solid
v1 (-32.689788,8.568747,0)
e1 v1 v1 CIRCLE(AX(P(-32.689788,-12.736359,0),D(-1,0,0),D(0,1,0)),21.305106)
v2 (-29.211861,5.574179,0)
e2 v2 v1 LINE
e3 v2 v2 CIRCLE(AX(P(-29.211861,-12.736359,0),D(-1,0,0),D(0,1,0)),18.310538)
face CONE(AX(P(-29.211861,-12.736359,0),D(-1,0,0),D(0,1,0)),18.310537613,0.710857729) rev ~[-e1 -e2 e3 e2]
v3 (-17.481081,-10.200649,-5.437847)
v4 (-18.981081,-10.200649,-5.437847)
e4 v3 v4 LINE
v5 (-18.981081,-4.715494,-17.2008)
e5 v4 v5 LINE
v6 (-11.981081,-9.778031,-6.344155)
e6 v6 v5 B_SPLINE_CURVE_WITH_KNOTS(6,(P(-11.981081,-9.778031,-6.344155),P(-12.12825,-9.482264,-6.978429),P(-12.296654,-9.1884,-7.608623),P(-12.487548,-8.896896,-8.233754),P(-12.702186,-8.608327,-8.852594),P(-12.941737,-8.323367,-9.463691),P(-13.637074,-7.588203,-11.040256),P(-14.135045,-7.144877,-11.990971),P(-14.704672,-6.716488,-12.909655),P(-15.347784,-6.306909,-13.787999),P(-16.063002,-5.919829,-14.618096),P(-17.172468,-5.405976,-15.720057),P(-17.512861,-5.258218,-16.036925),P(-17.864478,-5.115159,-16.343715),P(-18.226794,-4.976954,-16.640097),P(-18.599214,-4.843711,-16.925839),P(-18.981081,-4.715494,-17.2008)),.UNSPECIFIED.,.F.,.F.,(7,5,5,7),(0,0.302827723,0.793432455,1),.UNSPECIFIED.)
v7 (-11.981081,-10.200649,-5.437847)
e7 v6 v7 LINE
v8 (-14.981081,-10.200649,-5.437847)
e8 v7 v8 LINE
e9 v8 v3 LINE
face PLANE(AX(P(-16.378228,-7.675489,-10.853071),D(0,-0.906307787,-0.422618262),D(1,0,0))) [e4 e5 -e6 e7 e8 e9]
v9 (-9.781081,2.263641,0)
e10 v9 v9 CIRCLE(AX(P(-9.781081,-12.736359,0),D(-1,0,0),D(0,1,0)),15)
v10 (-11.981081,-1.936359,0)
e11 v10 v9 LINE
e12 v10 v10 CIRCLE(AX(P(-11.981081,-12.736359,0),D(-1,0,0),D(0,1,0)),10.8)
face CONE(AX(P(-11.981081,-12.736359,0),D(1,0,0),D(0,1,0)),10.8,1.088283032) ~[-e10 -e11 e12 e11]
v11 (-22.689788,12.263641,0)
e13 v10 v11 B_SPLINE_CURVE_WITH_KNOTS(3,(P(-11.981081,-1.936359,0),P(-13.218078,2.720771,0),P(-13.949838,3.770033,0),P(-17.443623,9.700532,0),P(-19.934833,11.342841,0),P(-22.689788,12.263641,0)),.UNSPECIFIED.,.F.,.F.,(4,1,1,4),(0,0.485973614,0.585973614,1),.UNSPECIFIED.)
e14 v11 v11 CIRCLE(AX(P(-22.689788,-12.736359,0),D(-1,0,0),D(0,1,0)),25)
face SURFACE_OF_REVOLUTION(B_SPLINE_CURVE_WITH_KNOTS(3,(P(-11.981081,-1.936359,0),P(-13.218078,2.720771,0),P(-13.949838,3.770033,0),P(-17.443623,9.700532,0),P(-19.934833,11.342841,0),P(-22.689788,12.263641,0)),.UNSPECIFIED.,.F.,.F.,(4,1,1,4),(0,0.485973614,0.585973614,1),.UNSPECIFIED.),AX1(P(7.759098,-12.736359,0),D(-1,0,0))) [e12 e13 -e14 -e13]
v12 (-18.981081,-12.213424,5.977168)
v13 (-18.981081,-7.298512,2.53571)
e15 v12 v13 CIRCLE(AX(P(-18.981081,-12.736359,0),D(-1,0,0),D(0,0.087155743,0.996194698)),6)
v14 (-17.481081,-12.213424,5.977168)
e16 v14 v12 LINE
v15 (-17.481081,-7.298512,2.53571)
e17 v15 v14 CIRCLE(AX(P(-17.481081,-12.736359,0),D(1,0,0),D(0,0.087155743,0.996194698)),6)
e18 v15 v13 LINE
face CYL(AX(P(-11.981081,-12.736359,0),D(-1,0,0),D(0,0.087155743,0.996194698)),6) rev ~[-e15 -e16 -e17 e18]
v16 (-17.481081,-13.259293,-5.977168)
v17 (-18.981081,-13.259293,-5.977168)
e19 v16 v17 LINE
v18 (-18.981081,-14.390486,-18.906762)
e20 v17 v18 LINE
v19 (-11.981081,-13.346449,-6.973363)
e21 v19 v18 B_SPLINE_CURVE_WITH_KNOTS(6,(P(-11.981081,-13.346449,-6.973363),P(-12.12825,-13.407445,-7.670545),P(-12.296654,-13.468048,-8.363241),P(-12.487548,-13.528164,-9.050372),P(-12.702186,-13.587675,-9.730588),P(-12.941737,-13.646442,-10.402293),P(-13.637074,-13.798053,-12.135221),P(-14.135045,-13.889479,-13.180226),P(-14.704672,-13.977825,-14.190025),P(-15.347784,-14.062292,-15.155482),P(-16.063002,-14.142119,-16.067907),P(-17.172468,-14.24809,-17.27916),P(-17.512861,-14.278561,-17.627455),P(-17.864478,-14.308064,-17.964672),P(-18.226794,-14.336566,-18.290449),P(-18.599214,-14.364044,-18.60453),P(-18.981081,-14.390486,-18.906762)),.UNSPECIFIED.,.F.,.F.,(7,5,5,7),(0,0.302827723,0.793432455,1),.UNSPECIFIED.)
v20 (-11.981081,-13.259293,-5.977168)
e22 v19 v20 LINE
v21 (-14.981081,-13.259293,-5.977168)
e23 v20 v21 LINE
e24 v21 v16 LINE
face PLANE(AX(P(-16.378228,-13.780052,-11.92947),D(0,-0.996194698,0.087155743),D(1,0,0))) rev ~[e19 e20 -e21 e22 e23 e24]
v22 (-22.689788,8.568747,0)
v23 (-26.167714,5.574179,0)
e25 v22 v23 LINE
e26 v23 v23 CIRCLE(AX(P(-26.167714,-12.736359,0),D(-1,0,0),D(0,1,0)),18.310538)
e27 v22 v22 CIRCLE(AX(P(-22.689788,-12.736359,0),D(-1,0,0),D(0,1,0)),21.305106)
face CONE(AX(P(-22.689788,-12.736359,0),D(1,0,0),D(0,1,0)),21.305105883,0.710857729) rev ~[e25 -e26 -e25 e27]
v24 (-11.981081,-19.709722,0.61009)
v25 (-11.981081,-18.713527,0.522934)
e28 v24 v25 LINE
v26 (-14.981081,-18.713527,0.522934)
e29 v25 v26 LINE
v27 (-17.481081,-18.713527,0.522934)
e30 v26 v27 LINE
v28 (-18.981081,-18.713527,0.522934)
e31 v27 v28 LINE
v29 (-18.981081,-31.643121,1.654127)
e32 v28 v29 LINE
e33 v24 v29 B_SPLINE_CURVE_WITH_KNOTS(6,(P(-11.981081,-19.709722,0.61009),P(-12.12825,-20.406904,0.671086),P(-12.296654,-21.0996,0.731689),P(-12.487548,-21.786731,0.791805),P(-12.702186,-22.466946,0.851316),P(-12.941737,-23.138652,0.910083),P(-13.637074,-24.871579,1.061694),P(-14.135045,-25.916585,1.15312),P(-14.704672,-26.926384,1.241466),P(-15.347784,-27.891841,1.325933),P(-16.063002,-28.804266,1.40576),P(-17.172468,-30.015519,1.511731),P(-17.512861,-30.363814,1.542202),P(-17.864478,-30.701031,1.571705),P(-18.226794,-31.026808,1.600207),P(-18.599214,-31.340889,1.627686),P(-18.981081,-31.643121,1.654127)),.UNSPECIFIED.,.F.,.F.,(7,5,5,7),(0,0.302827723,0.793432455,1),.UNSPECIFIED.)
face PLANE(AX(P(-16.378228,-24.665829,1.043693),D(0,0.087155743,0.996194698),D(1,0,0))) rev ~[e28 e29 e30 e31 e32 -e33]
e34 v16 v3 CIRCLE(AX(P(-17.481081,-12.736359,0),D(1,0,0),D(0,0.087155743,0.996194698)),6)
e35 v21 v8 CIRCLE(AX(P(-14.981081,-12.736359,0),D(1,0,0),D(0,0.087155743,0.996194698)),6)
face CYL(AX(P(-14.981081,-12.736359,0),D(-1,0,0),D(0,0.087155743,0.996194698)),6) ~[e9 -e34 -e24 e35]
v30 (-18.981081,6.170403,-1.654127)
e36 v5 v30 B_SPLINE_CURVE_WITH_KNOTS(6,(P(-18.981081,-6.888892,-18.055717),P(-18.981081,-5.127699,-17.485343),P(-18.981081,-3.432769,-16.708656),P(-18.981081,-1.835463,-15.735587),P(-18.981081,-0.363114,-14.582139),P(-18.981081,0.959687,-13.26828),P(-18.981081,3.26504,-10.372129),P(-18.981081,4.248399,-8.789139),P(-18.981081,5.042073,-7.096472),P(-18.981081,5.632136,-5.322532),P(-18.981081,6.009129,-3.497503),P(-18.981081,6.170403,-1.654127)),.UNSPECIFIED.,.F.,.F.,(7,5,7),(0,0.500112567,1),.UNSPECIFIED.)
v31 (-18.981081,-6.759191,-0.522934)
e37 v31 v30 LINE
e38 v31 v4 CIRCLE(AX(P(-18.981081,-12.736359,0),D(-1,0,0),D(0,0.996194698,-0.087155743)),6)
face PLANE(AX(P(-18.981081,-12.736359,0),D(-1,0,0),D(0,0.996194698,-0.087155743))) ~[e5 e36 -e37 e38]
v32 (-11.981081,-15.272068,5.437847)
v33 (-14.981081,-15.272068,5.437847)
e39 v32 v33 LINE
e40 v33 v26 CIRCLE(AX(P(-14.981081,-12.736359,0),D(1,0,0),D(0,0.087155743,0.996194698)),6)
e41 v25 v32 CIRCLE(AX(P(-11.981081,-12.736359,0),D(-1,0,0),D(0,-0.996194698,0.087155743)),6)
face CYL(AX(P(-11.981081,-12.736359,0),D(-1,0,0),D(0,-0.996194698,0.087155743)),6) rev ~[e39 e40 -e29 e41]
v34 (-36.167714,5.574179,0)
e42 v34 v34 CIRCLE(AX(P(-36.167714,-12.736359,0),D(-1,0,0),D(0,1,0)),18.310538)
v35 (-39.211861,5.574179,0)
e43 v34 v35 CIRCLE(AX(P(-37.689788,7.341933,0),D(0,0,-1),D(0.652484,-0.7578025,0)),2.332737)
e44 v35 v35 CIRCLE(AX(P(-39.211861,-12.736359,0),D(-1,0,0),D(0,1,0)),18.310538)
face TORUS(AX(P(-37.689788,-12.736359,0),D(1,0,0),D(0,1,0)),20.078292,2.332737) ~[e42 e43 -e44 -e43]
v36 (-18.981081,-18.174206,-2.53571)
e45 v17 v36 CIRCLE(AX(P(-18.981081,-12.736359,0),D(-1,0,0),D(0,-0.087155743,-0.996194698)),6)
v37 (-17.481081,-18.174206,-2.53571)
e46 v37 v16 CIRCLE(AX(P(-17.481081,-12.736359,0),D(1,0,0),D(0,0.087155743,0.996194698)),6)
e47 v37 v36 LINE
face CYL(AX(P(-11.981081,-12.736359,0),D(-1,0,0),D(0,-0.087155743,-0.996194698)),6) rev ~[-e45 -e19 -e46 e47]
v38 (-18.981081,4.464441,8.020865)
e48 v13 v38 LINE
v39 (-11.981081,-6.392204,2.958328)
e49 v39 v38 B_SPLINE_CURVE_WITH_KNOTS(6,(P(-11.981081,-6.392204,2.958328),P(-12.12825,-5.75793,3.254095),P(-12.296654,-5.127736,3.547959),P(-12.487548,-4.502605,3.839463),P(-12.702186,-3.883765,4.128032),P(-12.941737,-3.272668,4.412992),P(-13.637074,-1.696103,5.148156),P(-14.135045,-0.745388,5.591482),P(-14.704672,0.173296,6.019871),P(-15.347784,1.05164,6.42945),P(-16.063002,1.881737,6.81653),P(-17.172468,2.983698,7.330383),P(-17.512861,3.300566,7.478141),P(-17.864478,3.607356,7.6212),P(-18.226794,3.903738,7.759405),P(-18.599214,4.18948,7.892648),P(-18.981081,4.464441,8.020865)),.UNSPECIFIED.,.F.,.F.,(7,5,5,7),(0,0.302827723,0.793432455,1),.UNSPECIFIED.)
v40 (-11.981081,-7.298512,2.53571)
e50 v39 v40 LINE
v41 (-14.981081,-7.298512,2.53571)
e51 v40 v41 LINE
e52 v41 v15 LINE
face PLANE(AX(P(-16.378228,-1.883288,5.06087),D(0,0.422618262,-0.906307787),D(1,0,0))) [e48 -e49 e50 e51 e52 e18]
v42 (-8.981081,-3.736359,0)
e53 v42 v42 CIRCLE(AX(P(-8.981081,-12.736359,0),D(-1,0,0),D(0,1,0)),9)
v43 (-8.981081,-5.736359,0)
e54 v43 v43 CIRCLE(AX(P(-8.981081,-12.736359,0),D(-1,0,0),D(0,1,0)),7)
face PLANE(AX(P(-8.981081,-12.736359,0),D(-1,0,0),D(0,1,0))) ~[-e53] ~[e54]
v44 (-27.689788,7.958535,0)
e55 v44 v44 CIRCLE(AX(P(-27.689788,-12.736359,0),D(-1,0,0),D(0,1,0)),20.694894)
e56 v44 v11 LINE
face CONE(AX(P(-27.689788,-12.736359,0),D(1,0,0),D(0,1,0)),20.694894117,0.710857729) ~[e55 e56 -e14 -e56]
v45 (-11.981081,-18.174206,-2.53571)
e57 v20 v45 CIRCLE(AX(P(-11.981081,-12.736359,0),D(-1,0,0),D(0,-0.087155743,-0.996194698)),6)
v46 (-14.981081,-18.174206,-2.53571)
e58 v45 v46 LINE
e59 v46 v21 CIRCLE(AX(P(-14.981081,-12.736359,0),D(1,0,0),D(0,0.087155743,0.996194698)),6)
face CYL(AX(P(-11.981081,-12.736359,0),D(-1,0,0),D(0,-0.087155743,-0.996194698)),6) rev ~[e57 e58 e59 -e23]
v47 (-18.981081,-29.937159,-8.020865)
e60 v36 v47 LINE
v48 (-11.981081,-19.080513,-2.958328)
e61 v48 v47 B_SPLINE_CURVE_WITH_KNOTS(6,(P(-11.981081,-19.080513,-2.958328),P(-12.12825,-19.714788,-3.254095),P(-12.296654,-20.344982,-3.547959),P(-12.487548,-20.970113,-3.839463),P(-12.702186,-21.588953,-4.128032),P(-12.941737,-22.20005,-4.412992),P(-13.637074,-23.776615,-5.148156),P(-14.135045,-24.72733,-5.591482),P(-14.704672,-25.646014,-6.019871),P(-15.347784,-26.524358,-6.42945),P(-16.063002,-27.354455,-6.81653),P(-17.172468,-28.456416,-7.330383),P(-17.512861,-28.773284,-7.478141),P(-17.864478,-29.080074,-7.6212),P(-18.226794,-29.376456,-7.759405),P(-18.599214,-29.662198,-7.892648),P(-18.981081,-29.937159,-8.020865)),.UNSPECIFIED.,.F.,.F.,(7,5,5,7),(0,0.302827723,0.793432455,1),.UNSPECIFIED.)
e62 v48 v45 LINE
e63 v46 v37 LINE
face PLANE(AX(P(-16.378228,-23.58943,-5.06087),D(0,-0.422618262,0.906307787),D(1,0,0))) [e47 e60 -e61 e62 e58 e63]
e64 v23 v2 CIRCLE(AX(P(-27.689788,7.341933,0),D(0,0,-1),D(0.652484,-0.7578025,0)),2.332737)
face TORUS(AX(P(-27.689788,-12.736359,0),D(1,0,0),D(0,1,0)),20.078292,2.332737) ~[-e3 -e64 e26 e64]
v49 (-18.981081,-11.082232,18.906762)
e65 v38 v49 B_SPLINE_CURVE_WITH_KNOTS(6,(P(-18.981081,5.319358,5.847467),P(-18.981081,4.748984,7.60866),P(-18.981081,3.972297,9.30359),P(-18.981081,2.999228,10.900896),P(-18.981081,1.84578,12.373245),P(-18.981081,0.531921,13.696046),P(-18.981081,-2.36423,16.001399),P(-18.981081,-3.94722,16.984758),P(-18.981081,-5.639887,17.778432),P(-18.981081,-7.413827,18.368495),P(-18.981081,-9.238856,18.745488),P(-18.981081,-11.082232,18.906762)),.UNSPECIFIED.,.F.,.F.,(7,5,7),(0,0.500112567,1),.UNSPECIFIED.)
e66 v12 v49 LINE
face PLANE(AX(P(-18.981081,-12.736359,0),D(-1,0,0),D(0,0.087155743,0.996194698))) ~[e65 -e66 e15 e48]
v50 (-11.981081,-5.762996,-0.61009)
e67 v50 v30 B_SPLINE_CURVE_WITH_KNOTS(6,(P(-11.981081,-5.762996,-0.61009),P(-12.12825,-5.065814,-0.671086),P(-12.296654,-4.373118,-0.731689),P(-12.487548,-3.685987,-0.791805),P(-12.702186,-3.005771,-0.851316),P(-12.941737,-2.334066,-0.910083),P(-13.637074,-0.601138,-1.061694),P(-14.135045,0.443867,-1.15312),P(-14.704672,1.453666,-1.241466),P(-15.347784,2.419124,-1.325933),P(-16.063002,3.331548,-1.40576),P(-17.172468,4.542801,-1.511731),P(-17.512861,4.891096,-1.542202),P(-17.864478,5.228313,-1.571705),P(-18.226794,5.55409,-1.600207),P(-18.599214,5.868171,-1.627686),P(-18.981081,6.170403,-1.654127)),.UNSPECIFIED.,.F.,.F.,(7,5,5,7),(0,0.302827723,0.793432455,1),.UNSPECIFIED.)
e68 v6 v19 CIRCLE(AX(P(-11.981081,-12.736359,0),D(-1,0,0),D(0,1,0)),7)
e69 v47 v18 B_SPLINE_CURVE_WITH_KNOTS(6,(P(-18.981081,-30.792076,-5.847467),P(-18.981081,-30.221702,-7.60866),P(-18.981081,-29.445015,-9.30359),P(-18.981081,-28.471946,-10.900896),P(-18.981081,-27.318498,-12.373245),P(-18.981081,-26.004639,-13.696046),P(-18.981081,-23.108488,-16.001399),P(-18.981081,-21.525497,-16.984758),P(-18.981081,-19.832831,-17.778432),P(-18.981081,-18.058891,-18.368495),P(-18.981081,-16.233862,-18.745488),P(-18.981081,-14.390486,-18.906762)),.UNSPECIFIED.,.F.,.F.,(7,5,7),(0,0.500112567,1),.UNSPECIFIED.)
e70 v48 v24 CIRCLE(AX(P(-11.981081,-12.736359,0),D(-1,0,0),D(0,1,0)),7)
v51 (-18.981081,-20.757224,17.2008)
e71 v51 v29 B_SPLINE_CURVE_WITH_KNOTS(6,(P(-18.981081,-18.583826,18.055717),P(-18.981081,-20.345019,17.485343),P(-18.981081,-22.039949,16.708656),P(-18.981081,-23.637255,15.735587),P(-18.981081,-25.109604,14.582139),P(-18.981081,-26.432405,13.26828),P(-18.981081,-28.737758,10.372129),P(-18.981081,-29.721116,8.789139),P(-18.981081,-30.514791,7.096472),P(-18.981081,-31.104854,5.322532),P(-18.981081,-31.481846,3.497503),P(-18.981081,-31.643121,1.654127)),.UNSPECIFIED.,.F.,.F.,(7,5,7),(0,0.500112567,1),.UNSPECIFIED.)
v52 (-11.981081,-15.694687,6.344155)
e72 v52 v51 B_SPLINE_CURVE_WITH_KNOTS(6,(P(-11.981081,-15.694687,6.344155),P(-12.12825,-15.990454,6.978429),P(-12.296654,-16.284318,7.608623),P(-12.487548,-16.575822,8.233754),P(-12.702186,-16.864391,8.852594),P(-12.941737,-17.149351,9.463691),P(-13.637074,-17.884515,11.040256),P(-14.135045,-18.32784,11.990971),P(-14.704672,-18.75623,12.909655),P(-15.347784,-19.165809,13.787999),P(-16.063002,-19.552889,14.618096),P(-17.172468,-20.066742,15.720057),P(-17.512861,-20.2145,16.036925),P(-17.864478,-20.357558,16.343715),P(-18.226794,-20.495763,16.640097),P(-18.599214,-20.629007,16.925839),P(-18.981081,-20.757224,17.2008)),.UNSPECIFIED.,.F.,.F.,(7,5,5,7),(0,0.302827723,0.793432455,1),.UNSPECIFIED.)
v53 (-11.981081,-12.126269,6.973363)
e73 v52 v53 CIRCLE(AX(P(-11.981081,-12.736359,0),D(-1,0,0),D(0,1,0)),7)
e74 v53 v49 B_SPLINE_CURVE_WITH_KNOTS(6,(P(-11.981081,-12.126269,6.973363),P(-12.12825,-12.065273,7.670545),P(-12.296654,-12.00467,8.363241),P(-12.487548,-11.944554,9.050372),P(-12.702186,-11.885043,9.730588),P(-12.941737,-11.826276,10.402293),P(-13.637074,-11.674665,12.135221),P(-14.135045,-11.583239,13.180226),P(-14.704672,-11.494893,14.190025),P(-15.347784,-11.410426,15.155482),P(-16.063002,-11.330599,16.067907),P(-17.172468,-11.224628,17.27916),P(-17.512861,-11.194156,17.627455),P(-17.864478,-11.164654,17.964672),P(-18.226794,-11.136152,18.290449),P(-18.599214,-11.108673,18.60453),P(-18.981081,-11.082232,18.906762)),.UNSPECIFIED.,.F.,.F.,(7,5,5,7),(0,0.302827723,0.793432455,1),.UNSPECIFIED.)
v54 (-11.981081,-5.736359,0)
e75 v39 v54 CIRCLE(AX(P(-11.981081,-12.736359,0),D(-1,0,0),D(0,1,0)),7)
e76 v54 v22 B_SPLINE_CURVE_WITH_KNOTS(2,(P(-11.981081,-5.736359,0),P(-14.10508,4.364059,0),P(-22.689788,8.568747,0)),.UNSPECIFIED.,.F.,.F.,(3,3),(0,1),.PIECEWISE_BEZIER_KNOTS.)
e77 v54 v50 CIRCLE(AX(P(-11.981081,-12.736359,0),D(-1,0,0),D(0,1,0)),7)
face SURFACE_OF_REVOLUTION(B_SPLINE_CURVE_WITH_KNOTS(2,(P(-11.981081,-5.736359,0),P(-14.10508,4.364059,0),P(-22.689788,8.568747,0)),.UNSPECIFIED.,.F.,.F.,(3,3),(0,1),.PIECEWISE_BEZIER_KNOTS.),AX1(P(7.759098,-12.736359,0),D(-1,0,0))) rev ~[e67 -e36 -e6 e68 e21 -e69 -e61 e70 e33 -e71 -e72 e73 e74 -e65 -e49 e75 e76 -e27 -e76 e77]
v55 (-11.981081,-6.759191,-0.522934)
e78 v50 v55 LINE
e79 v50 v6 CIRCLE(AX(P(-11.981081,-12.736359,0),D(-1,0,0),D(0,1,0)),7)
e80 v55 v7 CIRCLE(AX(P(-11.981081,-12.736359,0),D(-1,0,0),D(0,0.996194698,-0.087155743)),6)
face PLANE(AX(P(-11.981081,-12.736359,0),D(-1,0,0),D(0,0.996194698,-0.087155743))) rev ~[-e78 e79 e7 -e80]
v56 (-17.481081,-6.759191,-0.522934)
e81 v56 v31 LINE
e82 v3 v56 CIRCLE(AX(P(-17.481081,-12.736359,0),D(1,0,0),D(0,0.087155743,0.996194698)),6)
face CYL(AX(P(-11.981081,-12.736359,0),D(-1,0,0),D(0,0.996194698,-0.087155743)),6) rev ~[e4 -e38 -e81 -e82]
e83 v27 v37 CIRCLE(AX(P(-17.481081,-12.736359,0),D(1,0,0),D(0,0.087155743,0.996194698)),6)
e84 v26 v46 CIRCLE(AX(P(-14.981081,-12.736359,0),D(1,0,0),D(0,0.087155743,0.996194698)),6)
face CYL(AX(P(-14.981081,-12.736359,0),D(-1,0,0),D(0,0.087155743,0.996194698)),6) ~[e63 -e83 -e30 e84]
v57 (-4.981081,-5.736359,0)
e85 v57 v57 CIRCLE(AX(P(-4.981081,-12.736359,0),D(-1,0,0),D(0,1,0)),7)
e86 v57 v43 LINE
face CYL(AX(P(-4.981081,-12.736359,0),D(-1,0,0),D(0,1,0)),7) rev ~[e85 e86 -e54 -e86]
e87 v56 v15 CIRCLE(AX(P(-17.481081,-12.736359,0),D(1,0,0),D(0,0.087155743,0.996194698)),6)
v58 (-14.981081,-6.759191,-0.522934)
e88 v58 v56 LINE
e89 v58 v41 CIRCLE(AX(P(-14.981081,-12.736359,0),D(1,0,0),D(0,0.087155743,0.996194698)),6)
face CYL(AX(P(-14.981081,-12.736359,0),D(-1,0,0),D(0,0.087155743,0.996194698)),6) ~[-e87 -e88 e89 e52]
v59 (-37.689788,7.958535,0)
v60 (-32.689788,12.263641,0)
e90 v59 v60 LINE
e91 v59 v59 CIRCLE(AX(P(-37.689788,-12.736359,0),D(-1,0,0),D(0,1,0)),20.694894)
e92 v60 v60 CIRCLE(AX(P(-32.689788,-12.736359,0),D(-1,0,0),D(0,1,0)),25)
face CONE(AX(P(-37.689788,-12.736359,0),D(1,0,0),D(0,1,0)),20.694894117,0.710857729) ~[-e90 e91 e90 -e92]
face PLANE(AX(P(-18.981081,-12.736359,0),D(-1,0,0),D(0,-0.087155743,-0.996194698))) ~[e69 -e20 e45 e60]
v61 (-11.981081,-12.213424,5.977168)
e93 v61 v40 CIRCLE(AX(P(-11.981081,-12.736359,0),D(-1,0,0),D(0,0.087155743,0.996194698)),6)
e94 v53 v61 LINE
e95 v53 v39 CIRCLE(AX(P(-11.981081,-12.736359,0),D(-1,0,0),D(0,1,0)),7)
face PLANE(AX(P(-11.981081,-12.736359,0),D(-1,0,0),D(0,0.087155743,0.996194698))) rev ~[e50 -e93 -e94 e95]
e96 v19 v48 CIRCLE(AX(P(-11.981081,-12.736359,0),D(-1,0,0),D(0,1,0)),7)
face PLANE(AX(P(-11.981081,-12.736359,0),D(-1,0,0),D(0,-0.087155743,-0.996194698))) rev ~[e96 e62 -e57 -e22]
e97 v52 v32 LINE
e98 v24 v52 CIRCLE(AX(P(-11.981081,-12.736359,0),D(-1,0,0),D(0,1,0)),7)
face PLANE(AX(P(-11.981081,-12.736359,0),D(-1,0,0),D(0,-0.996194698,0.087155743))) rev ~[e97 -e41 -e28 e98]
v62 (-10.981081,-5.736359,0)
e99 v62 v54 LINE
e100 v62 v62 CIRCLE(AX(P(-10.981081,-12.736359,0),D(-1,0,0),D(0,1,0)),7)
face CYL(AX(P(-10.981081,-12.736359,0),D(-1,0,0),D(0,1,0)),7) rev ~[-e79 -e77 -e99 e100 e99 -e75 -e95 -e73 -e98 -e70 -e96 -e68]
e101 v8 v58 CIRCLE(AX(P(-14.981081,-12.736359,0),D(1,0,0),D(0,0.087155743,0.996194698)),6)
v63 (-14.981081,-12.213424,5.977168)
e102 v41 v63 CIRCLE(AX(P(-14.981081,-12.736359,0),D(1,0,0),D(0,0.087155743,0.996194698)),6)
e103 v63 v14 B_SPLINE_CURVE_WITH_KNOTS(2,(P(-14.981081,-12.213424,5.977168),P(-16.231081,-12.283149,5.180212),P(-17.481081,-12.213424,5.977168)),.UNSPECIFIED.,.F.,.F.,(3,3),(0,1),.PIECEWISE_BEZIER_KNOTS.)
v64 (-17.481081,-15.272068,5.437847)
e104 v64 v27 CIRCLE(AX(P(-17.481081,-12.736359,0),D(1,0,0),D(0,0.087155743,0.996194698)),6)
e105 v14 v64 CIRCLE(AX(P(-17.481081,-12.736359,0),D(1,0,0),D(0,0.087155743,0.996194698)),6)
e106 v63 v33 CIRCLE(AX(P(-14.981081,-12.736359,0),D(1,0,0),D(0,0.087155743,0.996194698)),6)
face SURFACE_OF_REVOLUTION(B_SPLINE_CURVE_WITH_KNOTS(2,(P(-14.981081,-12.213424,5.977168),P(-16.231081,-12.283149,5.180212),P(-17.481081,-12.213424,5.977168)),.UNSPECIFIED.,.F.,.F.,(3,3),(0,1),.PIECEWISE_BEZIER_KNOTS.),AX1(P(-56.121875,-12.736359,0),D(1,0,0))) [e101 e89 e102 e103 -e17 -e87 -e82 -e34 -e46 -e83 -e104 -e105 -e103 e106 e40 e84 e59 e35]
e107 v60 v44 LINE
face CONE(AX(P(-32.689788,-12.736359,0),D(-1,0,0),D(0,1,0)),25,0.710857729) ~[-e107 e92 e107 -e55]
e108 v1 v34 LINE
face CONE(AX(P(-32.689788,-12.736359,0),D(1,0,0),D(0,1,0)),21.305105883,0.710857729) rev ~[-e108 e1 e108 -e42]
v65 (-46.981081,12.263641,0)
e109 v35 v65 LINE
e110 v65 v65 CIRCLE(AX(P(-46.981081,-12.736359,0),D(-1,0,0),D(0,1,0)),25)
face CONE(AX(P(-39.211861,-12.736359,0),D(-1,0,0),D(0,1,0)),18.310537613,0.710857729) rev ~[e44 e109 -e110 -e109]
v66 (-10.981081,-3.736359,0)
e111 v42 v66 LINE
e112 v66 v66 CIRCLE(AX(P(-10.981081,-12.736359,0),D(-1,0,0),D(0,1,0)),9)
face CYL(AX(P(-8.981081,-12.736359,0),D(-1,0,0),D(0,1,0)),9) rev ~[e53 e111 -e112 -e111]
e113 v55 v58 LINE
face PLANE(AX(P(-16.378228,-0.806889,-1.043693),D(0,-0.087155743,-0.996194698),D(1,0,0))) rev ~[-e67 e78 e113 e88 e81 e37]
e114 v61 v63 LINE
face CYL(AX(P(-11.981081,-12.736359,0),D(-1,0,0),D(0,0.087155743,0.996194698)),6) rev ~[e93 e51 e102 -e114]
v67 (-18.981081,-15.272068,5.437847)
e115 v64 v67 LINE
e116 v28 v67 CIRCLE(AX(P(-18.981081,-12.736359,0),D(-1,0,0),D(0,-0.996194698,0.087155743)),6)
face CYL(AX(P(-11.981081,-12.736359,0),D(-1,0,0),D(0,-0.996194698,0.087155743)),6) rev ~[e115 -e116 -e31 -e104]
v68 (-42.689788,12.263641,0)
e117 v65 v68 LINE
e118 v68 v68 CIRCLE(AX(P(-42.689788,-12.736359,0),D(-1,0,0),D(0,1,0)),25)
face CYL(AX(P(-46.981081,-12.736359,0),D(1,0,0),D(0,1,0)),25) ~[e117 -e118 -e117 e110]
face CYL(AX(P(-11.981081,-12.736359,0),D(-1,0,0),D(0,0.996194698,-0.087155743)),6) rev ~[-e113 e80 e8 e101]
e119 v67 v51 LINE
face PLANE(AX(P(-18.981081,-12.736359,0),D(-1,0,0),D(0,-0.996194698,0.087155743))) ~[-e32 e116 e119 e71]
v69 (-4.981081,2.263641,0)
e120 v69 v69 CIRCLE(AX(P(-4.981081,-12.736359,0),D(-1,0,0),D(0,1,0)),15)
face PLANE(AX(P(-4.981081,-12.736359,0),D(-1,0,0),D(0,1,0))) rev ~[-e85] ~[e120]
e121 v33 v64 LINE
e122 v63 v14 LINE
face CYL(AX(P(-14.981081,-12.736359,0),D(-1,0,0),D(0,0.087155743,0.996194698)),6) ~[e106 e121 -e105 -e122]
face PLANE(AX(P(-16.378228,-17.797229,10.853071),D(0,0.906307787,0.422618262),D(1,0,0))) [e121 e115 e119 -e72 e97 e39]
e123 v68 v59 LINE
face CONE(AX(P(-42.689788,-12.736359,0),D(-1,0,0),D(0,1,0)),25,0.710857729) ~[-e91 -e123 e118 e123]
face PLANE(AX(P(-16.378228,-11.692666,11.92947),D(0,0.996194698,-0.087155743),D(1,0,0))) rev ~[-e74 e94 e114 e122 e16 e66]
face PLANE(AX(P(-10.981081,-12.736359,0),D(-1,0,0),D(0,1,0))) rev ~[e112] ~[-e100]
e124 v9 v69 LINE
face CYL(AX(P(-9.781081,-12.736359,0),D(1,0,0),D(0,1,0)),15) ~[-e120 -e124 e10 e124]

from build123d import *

# Parameters (mm, degrees)
REVOLVE_4_ANGLE          = 60
PATTERN_CIRCULAR_1_COUNT = 4


with BuildPart() as part:
    # 草图1 → 旋转2 (revolve)
    with BuildSketch(Plane.XY, mode=Mode.PRIVATE) as revolve_2_sk:
        with BuildLine():
            Line((-4.981080731, -19.736358929), (-8.981080731, -19.736358929))
            Line((-8.981080731, -19.736358929), (-8.981080731, -21.736358929))
            Line((-8.981080731, -21.736358929), (-10.981080731, -21.736358929))
            Line((-10.981080731, -21.736358929), (-10.981080731, -19.736358929))
            Line((-10.981080731, -19.736358929), (-11.981080731, -19.736358929))
            add(Edge.make_bspline(
                [(-11.981080731, -19.736358929), (-14.105079515, -29.836776521), (-22.689787766, -34.041464812)],
                knots=[0, 0, 0, 1, 1, 1], degree=2))
            Line((-22.689787766, -34.041464812), (-26.167714154, -31.046896542))
            ThreePointArc((-26.167714154, -31.046896542), (-27.689787766, -30.481913457), (-29.211861379, -31.046896542))
            Line((-29.211861379, -31.046896542), (-32.689787766, -34.041464812))
            Line((-32.689787766, -34.041464812), (-36.167714154, -31.046896542))
            ThreePointArc((-36.167714154, -31.046896542), (-37.689787766, -30.481913457), (-39.211861379, -31.046896542))
            Line((-39.211861379, -31.046896542), (-46.981080731, -37.736358929))
            Line((-46.981080731, -37.736358929), (-42.689787766, -37.736358929))
            Line((-42.689787766, -37.736358929), (-37.689787766, -33.431253046))
            Line((-37.689787766, -33.431253046), (-32.689787766, -37.736358929))
            Line((-32.689787766, -37.736358929), (-27.689787766, -33.431253046))
            Line((-27.689787766, -33.431253046), (-22.689787766, -37.736358929))
            add(Edge.make_bspline(
                [(-11.981080731, -23.536358929), (-13.218077622, -28.193488855), (-13.94983801, -29.242750421), (-17.443623259, -35.173249874), (-19.934832658, -36.815558997), (-22.689787766, -37.736358929)],
                knots=[0, 0, 0, 0, 0.485973614, 0.585973614, 1, 1, 1, 1], degree=3))
            Line((-11.981080731, -23.536358929), (-9.781080731, -27.736358929))
            Line((-9.781080731, -27.736358929), (-4.981080731, -27.736358929))
            Line((-4.981080731, -27.736358929), (-4.981080731, -19.736358929))
        make_face()
    revolve(revolve_2_sk.sketch.rotate(Axis((7.759097512, -12.736358929, 0), (-1, 0, 0)), 180), axis=Axis((7.759097512, -12.736358929, 0), (-1, 0, 0)))


with BuildPart() as body_2:
    # 草图3 → 旋转4 (revolve)
    with BuildSketch(Plane(origin=(0, -12.639611974, 1.105822759), x_dir=(1, 0, 0), z_dir=(0, -0.9961946980917459, 0.08715574274765504))):
        with BuildLine():
            Line((-11.981080731, -8.768373779), (-11.981080731, -7.110046822))
            Line((-11.981080731, -7.110046822), (-18.981080731, -7.110046822))
            Line((-18.981080731, -7.110046822), (-18.981080731, -21.291174479))
            add(Edge.make_bspline(
                [(-11.981080731, -8.768373779), (-12.626813815, -12.193567325), (-14.690315158, -16.799816788), (-17.609024266, -20.330987822), (-18.981080731, -21.291174479)],
                knots=[0, 0, 0, 0, 0.528344687, 0.796807345, 0.796807345, 0.796807345, 0.796807345], degree=3))
        make_face()
    revolve(axis=Axis((-4.981080731, -12.736358929, 0), (-1, 0, 0)), revolution_arc=REVOLVE_4_ANGLE)


with BuildPart() as pattern_circular_1_1:
    # 阵列(圆周)1: pattern copy
    add(body_2.part.rotate(Axis((-56.121874835, -12.736358929, 0), (1, 0, 0)), 1 * 360 / PATTERN_CIRCULAR_1_COUNT))


with BuildPart() as pattern_circular_1_2:
    # 阵列(圆周)1: pattern copy
    add(body_2.part.rotate(Axis((-56.121874835, -12.736358929, 0), (1, 0, 0)), 2 * 360 / PATTERN_CIRCULAR_1_COUNT))


with BuildPart() as pattern_circular_1_3:
    # 阵列(圆周)1: pattern copy
    add(body_2.part.rotate(Axis((-56.121874835, -12.736358929, 0), (1, 0, 0)), 3 * 360 / PATTERN_CIRCULAR_1_COUNT))


with BuildPart() as part_1:
    add(part.part)

    # Combine 1: union 阵列(圆周)1_1, body 2, 阵列(圆周)1_2, 阵列(圆周)1_3
    add(pattern_circular_1_1.part)
    add(body_2.part)
    add(pattern_circular_1_2.part)
    add(pattern_circular_1_3.part)

    # 草图5 → 旋转5 (revolve)
    with BuildSketch(Plane(origin=(0, -12.639611974, 1.105822759), x_dir=(1, 0, 0), z_dir=(0, -0.9961946980917459, 0.08715574274765475))):
        with BuildLine():
            Line((-14.981080731, 4.889953178), (-17.481080731, 4.889953178))
            add(Edge.make_bspline(
                [(-14.981080731, 4.889953178), (-16.231080731, 4.089953178), (-17.481080731, 4.889953178)],
                knots=[0, 0, 0, 1, 1, 1], degree=2))
        make_face()
    revolve(axis=Axis((-56.121874835, -12.736358929, 0), (1, 0, 0)))


solid = part_1.part
